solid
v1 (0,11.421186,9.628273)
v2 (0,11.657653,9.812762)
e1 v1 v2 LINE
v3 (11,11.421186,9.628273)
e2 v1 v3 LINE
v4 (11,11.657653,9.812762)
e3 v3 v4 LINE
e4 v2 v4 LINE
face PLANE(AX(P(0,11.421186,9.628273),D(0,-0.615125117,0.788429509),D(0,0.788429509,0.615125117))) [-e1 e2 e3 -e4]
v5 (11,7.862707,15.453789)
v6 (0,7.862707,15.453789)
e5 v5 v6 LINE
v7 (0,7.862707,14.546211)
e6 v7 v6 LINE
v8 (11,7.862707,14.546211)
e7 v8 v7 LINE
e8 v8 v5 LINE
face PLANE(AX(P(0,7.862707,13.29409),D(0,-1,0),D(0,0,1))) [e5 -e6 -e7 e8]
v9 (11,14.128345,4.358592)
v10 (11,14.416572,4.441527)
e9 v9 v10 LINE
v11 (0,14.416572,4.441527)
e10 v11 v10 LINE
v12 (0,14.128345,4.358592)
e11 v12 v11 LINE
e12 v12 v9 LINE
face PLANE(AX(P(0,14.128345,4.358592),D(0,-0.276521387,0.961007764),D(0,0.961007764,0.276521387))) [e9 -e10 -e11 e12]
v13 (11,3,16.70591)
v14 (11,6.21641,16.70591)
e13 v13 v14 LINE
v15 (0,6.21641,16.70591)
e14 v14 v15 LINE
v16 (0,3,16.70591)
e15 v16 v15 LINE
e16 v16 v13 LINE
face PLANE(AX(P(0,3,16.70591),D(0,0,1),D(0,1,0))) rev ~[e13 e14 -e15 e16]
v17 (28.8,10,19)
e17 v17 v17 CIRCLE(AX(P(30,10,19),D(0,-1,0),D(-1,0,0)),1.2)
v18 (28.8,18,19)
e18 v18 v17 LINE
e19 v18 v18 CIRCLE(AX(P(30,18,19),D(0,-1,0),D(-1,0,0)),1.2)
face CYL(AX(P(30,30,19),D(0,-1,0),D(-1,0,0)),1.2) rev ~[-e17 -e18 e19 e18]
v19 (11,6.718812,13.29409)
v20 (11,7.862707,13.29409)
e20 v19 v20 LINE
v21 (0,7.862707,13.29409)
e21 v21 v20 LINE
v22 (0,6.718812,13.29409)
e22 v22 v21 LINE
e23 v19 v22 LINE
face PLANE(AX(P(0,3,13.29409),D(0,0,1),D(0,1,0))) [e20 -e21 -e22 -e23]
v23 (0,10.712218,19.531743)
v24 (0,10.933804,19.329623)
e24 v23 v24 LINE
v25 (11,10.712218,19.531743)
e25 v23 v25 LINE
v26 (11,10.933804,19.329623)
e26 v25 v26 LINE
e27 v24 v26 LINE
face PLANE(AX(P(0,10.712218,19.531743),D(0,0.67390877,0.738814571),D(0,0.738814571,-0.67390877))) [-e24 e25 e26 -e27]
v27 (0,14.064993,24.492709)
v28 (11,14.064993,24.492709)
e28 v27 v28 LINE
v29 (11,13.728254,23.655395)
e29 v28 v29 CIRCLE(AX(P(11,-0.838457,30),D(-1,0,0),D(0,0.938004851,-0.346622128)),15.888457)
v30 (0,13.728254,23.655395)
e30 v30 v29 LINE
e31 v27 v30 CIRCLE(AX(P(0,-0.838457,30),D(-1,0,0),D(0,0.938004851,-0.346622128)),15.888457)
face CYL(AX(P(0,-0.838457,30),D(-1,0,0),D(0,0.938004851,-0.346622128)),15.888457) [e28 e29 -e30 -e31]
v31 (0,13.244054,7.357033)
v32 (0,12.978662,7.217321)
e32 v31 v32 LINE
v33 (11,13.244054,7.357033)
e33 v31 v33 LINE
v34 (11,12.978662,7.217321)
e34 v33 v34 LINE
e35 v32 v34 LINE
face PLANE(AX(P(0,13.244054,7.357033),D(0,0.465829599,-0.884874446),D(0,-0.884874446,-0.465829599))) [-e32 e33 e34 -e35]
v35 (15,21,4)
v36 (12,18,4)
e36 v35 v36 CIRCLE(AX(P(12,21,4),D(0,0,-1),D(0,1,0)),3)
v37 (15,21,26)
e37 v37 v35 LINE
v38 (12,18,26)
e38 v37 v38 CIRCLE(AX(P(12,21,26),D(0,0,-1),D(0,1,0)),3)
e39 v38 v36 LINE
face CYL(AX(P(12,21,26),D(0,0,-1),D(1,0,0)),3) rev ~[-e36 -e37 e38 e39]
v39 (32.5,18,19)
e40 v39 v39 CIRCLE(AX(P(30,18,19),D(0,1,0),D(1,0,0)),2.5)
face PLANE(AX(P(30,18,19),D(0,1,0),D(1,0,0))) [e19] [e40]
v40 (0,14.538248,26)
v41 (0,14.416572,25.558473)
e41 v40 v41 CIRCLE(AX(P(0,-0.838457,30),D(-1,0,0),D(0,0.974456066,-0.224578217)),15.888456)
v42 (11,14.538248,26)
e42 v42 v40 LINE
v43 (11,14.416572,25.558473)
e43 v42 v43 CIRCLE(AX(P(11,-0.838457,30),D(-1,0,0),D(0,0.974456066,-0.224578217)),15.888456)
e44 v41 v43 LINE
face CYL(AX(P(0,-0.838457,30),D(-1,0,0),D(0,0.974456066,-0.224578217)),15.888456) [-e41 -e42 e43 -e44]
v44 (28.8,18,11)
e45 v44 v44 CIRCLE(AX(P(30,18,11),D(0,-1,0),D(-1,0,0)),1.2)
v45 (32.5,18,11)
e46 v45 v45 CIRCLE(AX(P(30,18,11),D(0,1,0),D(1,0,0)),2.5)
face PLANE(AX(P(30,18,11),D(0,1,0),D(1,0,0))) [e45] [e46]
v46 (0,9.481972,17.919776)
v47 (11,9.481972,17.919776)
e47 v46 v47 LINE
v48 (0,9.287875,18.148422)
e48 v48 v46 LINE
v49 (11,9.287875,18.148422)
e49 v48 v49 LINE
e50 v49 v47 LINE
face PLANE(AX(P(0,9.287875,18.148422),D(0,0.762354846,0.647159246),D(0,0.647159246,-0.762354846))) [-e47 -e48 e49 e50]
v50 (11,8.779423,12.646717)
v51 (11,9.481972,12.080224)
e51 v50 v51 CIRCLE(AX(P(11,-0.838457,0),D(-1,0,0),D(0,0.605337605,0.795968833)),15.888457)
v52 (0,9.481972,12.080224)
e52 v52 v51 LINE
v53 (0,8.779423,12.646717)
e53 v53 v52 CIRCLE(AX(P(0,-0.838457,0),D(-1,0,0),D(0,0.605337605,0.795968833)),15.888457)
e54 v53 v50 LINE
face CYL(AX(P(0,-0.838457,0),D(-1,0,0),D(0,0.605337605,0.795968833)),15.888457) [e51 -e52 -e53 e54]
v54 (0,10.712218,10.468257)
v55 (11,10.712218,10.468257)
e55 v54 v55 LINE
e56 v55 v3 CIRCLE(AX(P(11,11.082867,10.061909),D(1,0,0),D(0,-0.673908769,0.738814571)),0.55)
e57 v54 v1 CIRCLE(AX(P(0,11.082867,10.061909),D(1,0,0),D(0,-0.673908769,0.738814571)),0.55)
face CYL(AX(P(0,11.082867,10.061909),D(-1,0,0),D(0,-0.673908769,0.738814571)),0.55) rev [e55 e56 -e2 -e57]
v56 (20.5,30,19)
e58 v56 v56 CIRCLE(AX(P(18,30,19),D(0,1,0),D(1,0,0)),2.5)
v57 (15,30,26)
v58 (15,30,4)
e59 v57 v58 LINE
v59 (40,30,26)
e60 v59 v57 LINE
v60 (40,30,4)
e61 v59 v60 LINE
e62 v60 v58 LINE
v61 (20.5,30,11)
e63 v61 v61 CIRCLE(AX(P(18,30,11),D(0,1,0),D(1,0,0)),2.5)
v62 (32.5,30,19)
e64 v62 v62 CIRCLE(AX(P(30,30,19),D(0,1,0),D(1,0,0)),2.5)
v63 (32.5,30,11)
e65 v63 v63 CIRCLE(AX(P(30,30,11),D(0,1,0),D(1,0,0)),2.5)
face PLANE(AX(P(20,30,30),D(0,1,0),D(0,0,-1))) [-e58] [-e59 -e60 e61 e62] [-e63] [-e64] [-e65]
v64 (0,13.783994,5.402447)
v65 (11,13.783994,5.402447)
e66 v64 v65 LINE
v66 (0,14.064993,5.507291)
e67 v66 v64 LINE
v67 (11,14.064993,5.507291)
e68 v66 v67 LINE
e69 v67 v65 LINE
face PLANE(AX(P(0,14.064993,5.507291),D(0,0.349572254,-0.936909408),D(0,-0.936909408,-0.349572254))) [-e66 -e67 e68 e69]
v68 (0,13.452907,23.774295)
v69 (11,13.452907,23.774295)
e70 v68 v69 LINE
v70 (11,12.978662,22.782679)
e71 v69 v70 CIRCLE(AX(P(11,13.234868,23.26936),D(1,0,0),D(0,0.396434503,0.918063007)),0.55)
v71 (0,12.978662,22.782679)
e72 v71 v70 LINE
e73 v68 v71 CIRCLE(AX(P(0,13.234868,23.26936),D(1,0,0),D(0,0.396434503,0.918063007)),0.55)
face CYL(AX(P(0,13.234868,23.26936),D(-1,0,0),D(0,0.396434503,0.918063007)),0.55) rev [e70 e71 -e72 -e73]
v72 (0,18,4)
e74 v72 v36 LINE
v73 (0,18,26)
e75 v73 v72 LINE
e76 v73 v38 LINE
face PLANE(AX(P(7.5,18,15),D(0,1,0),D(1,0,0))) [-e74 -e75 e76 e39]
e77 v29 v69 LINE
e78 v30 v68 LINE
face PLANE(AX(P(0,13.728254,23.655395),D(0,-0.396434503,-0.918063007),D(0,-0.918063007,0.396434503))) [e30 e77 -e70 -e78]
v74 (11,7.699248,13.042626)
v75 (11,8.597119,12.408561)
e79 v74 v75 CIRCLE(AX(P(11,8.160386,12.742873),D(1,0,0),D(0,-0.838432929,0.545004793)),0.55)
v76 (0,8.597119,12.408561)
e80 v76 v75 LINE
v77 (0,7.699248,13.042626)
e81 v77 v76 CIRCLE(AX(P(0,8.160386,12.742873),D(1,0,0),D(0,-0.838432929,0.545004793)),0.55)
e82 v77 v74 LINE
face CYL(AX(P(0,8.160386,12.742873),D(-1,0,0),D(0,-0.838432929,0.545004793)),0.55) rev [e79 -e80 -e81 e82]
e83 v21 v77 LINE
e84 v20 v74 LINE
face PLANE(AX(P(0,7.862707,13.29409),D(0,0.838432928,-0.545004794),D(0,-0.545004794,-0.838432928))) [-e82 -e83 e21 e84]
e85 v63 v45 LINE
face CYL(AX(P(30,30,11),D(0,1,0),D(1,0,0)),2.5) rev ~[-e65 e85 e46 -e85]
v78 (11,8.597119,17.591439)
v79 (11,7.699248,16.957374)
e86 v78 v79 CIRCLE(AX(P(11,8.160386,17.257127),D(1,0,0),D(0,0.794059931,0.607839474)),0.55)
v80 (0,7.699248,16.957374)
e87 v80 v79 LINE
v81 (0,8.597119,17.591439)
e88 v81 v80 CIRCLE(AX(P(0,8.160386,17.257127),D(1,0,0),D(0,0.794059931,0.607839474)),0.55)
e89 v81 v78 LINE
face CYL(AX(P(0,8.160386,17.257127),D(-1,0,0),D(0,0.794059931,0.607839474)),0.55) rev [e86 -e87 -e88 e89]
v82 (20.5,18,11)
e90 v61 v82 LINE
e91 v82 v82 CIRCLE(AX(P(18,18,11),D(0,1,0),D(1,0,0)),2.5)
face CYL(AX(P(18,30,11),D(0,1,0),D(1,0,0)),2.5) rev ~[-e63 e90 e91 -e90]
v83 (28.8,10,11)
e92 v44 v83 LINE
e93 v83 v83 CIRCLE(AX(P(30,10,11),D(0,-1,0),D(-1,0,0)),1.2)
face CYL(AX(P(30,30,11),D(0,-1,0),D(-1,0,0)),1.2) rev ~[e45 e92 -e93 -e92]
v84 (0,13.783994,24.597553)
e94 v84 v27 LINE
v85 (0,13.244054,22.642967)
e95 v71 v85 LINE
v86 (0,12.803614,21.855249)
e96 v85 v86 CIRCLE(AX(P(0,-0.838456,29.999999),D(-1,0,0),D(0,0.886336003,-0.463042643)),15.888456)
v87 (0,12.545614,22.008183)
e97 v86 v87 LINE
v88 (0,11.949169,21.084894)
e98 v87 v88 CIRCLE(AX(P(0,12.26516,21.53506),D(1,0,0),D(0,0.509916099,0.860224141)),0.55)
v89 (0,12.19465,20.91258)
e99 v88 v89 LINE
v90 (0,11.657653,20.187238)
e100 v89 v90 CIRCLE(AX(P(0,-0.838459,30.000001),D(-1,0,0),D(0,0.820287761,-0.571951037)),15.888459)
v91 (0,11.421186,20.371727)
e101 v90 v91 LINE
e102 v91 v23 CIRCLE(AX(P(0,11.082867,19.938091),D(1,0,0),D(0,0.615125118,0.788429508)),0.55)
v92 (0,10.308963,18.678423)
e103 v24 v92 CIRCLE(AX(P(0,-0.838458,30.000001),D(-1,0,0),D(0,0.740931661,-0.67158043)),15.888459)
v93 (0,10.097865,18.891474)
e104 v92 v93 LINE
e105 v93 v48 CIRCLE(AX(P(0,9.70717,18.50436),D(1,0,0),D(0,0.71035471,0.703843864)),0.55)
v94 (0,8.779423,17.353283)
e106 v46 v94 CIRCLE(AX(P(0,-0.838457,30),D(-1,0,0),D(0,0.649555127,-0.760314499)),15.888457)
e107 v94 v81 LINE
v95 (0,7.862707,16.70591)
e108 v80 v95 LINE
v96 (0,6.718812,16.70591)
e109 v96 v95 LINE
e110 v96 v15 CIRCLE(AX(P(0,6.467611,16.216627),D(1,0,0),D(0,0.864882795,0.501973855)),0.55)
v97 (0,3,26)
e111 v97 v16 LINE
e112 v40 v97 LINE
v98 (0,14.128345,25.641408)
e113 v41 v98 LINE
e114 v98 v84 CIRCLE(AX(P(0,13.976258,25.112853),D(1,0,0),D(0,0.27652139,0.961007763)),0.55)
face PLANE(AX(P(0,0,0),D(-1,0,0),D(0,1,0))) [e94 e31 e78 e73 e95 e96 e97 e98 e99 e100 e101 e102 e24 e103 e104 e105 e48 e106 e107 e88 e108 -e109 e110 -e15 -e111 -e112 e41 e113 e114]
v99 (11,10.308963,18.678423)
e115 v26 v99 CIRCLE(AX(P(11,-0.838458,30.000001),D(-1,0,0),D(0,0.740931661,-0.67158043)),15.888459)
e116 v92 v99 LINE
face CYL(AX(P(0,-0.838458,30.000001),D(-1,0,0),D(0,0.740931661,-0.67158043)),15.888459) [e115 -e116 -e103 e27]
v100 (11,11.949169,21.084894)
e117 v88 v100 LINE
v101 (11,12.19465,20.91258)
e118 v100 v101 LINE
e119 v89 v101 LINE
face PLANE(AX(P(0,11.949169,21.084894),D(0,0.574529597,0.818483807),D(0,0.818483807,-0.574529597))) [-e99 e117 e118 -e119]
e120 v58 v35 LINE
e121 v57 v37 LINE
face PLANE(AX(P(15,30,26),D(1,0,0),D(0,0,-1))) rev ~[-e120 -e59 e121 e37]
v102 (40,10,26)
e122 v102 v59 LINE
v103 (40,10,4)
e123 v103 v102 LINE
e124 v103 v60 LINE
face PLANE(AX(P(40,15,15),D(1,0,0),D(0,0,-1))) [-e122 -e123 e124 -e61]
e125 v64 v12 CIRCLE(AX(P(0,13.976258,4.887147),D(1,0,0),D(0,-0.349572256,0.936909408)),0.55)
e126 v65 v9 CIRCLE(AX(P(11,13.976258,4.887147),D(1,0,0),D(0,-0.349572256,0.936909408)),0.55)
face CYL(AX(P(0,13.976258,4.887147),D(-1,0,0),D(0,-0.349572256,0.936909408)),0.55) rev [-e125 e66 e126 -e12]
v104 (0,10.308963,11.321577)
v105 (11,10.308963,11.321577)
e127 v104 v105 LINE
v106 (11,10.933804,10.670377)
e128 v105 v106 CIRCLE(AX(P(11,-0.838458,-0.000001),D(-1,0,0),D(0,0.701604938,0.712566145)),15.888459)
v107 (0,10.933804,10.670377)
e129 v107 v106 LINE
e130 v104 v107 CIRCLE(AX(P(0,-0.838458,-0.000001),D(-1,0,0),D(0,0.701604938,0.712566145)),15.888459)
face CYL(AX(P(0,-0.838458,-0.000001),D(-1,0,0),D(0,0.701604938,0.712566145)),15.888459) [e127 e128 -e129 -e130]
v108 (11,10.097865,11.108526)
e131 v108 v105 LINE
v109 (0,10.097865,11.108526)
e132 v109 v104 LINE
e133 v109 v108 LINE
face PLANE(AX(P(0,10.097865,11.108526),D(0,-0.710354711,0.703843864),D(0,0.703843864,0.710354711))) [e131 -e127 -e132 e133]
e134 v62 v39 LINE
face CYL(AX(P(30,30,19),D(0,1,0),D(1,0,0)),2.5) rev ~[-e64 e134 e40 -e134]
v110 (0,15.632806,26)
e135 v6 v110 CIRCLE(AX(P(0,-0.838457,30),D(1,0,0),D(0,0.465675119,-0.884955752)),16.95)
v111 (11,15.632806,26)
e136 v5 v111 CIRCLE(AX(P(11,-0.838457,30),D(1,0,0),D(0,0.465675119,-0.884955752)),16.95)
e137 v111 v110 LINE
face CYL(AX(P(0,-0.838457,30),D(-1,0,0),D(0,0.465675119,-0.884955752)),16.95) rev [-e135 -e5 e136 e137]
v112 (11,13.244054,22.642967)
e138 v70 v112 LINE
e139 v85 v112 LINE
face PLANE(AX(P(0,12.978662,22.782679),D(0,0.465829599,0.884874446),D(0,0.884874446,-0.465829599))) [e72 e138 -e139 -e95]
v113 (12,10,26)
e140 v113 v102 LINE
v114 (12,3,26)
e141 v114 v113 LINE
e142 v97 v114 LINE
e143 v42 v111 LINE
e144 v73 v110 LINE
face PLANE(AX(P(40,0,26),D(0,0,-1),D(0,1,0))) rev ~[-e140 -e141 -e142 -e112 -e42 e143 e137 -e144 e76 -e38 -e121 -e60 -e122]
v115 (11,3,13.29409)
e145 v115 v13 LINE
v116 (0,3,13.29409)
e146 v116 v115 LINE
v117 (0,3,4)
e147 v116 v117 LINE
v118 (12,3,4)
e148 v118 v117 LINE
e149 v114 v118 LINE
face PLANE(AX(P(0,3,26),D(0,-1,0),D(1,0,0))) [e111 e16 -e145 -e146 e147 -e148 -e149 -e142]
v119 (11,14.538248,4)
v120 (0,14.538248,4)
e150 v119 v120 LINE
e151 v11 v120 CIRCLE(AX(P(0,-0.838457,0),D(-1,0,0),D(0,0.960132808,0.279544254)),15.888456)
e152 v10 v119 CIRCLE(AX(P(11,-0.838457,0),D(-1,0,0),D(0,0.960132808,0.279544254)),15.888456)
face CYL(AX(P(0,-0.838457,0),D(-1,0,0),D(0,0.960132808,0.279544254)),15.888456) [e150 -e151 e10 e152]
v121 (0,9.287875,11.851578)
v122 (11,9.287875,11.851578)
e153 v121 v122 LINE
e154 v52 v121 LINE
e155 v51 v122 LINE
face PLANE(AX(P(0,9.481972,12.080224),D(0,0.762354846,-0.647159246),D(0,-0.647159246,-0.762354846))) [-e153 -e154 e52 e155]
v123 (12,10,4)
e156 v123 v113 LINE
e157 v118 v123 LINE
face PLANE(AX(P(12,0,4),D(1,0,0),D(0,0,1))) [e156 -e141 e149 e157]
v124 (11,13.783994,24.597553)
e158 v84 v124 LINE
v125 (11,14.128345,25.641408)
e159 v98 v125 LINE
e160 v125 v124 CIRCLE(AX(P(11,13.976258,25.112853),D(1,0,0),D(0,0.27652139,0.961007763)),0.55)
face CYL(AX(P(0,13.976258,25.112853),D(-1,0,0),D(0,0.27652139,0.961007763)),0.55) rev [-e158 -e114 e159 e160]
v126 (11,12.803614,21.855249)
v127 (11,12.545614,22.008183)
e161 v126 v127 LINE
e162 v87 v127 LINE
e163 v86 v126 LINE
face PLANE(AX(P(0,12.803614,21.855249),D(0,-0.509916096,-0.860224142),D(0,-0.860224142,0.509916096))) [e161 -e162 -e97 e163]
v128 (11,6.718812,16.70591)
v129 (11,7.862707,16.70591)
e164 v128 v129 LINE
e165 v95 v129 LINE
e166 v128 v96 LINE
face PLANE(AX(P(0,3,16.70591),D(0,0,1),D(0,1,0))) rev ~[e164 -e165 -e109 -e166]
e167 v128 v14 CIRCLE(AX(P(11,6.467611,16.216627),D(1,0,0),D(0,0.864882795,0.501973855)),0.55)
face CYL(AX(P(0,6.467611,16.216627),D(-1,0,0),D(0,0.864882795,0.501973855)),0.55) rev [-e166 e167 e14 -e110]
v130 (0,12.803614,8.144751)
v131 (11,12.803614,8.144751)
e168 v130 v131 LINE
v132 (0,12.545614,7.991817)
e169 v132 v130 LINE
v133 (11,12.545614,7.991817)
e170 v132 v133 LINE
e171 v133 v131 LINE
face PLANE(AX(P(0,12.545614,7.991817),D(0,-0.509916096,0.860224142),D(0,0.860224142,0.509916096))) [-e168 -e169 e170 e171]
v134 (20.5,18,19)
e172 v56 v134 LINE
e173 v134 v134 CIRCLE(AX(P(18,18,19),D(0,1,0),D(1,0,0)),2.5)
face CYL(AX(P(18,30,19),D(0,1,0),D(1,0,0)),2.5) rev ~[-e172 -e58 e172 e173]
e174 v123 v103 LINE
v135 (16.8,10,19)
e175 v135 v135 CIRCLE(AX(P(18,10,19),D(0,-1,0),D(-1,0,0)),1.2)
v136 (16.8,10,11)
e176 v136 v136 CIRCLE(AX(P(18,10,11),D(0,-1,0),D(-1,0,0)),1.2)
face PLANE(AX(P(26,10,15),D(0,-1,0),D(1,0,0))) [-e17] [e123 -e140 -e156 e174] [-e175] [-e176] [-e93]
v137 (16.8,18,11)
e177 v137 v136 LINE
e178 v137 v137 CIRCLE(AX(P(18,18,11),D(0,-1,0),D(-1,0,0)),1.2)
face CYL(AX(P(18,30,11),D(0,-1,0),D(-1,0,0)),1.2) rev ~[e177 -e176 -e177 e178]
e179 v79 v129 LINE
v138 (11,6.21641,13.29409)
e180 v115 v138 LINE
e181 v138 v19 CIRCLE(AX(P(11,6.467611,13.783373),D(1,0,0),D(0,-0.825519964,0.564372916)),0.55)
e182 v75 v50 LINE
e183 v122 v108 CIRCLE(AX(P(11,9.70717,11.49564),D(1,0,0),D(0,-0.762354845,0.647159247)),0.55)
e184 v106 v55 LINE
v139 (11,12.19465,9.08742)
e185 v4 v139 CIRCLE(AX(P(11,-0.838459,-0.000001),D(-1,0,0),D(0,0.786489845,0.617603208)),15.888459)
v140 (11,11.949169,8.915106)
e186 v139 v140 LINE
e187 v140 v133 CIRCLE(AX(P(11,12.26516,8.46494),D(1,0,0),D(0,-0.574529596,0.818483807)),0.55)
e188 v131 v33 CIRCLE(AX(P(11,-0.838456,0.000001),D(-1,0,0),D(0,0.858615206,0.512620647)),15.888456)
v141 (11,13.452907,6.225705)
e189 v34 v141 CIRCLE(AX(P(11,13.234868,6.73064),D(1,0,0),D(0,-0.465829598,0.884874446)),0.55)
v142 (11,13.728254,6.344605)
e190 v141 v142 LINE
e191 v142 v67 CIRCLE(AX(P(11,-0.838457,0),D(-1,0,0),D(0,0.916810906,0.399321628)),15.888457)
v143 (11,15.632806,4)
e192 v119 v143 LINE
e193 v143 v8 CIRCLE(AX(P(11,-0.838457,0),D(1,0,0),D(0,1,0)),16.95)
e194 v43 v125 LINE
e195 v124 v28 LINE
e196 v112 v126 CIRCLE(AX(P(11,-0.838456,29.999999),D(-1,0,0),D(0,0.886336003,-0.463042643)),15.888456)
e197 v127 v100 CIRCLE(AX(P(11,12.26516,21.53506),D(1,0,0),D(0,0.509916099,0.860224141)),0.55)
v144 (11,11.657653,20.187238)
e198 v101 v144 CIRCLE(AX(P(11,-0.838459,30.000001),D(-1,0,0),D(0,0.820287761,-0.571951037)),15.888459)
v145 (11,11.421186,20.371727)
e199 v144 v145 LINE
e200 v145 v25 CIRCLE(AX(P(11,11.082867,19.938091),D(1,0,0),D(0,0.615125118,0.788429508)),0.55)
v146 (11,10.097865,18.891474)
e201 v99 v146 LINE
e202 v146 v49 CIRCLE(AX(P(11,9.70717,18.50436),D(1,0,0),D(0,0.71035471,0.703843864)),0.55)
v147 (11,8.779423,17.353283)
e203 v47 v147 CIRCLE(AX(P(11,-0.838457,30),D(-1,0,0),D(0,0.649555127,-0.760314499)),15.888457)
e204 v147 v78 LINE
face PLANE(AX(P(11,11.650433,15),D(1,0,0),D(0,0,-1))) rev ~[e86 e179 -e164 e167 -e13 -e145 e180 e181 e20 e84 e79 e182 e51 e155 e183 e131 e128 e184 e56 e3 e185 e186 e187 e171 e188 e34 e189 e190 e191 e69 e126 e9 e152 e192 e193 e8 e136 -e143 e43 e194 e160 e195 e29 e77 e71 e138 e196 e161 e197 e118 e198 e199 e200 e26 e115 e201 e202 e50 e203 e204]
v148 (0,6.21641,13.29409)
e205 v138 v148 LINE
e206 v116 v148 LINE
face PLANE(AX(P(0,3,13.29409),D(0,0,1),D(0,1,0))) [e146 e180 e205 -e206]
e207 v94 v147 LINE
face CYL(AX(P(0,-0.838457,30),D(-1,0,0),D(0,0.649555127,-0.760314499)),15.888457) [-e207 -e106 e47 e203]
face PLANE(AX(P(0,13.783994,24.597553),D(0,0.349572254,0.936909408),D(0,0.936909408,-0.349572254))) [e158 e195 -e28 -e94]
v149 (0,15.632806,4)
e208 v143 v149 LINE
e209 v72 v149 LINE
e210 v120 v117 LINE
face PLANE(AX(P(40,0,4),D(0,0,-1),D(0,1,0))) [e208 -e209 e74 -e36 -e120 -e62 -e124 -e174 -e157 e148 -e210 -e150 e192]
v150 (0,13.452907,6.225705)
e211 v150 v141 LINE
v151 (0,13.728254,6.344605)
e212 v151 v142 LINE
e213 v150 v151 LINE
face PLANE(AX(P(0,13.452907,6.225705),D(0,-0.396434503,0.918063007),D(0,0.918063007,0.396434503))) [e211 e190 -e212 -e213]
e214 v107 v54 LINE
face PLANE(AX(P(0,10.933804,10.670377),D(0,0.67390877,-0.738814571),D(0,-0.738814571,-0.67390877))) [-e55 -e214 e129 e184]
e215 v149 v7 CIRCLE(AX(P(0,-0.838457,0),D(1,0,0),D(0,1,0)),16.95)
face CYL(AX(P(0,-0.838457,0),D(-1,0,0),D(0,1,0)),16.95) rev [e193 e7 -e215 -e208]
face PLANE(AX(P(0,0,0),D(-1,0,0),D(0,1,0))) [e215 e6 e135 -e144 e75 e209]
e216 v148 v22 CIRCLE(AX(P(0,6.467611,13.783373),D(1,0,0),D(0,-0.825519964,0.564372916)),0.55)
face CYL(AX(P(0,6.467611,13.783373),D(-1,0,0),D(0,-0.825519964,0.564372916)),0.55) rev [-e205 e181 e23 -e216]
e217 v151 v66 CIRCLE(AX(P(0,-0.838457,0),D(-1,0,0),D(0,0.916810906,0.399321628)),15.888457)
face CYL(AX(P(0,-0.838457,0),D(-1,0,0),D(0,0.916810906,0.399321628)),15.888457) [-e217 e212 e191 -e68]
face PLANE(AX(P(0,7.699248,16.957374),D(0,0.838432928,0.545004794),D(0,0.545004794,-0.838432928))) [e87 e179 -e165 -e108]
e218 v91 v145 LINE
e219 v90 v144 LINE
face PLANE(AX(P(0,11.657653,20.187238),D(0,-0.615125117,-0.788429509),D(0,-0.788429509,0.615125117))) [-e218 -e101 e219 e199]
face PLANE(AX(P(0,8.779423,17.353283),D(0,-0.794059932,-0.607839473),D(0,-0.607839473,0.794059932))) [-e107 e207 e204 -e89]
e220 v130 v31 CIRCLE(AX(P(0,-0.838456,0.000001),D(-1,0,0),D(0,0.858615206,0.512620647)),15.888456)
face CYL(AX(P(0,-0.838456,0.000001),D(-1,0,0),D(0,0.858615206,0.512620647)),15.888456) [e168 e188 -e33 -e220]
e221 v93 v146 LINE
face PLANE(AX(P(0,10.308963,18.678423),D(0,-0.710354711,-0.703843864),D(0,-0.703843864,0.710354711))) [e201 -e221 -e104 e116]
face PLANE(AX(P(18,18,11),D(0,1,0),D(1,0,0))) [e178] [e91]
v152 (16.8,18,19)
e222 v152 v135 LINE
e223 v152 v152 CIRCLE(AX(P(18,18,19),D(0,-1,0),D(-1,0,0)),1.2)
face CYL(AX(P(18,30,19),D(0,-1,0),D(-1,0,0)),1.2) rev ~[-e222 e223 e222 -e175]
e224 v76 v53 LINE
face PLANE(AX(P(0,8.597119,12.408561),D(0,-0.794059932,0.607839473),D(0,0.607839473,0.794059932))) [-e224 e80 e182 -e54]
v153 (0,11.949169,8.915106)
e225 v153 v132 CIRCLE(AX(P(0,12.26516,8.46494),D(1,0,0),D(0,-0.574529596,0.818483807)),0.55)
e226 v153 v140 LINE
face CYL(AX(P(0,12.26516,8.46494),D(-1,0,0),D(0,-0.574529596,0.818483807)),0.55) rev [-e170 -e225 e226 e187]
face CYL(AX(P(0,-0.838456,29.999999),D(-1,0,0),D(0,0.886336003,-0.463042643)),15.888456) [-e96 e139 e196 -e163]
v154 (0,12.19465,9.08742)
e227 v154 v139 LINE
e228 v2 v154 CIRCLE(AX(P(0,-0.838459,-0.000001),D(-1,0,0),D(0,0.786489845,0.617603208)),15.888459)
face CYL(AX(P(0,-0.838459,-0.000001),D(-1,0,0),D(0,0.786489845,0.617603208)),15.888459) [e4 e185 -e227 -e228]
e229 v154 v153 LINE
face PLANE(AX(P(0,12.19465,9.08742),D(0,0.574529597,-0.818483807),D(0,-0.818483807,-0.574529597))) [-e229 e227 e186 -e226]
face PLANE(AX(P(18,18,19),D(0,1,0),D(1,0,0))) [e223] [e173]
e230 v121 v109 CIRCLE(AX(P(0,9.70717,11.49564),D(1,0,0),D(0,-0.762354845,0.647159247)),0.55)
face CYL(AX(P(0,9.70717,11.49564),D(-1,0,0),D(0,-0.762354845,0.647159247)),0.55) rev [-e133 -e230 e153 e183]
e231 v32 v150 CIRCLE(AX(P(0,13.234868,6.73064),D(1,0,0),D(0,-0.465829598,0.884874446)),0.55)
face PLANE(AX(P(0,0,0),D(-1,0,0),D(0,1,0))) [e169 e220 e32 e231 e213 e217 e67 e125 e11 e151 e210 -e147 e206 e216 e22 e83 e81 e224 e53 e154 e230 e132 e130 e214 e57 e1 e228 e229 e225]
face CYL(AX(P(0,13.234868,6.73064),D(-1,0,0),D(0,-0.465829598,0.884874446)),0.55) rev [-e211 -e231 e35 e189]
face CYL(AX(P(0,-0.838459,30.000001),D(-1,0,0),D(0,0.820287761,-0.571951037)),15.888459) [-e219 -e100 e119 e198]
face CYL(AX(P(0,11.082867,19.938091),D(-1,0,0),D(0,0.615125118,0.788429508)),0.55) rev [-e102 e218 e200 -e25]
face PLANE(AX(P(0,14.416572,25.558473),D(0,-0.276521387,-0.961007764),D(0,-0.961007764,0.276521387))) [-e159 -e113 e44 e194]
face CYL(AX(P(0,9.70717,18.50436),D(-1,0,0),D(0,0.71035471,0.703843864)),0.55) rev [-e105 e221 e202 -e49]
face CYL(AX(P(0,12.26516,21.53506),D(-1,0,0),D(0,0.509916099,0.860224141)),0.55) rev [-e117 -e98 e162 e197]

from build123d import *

# Parameters (mm, degrees)
SKETCH_1_W                   = 20
SKETCH_1_H                   = 40
EXTRUDE_1_DEPTH              = 30
CUT_EXTRUDE_1_DEPTH          = 11
SKETCH_13_W                  = 20
SKETCH_13_H                  = 30
CUT_EXTRUDE_5_DEPTH          = 10
SKETCH_14_W                  = 30
SKETCH_14_H                  = 30
EXTRUDE_5_DEPTH              = 20
HOLE_WIZARD_M2_1_D           = 2.4
HOLE_WIZARD_M2_1_CSINK_D     = 2.45
HOLE_WIZARD_M2_1_CSINK_ANGLE = 90
SKETCH_19_R                  = 2.5
CUT_EXTRUDE_6_DEPTH          = 12
SKETCH_20_W                  = 4
SKETCH_20_H                  = 30
CUT_EXTRUDE_7_DEPTH          = 49
SKETCH_22_W                  = 28
SKETCH_22_H                  = 22
CUT_EXTRUDE_8_DEPTH          = 10
SKETCH_23_W                  = 12
SKETCH_23_H                  = 3
CUT_EXTRUDE_9_DEPTH          = 23
SKETCH_24_W                  = 3.41182091
SKETCH_24_H                  = 4.86270688
CUT_EXTRUDE_10_DEPTH         = 11
SKETCH_25_W                  = 15
SKETCH_25_H                  = 22
CUT_EXTRUDE_11_DEPTH         = 12
FILLET_1_R                   = 3


with BuildPart() as part:
    # 草图1 → 凸台-拉伸1 (new body)
    with BuildSketch(Plane.XY):
        with Locations((10, 20)):
            Rectangle(SKETCH_1_W, SKETCH_1_H)
    extrude(amount=EXTRUDE_1_DEPTH)

    # 草图3 → 切除-拉伸1 (cut)
    with BuildSketch(Plane.ZY):
        with BuildLine():
            Line((2.42076783, 14.560970744), (2.46639251, 14.857401496))
            ThreePointArc((2.46639251, 14.857401496), (2.019622743, 14.921117547), (1.571223609, 14.972119278))
            Line((1.571223609, 14.972119278), (1.540625063, 14.673762896))
            ThreePointArc((1.540625063, 14.673762896), (0.958467816, 14.180991438), (0.443670306, 14.743765188))
            Line((0.443670306, 14.743765188), (0.451244703, 15.043586442))
            ThreePointArc((0.451244703, 15.043586442), (0.225645108, 15.048393221), (0, 15.049995588))
            Line((0, 15.049995588), (0, 16.111542732))
            ThreePointArc((0, 16.111542732), (8.761075107, 13.671748208), (15, 7.054736002))
            ThreePointArc((15, 7.054736002), (21.238924893, 13.671748208), (30, 16.111542732))
            Line((30, 16.111542732), (30, 15.049995588))
            ThreePointArc((30, 15.049995588), (29.774354892, 15.048393221), (29.548755297, 15.043586442))
            Line((29.548755297, 15.043586442), (29.556329694, 14.743765188))
            ThreePointArc((29.556329694, 14.743765188), (29.041532184, 14.180991438), (28.459374937, 14.673762896))
            Line((28.459374937, 14.673762896), (28.428776391, 14.972119278))
            ThreePointArc((28.428776391, 14.972119278), (27.980377257, 14.921117547), (27.53360749, 14.857401496))
            Line((27.53360749, 14.857401496), (27.57923217, 14.560970744))
            ThreePointArc((27.57923217, 14.560970744), (27.140146166, 13.937324811), (26.500073756, 14.352099545))
            Line((26.500073756, 14.352099545), (26.431798568, 14.644146289))
            ThreePointArc((26.431798568, 14.644146289), (25.993519676, 14.536561099), (25.558473085, 14.416571838))
            Line((25.558473085, 14.416571838), (25.641407746, 14.128345115))
            ThreePointArc((25.641407746, 14.128345115), (25.285156719, 13.453944659), (24.597553302, 13.78399361))
            Line((24.597553302, 13.78399361), (24.492709128, 14.064992722))
            ThreePointArc((24.492709128, 14.064992722), (24.071660856, 13.902569472), (23.655395377, 13.728253635))
            Line((23.655395377, 13.728253635), (23.774294539, 13.45290696))
            ThreePointArc((23.774294539, 13.45290696), (23.506658094, 12.738693055), (22.78267894, 12.978661705))
            Line((22.78267894, 12.978661705), (22.642966709, 13.244054422))
            ThreePointArc((22.642966709, 13.244054422), (22.245979893, 13.029428171), (21.855248772, 12.803613755))
            Line((21.855248772, 12.803613755), (22.008183484, 12.545614189))
            ThreePointArc((22.008183484, 12.545614189), (21.833503597, 11.803173817), (21.084894113, 11.949169057))
            Line((21.084894113, 11.949169057), (20.912580434, 12.194649806))
            ThreePointArc((20.912580434, 12.194649806), (20.546095554, 11.931302521), (20.187237779, 11.657653005))
            Line((20.187237779, 11.657653005), (20.37172692, 11.421186181))
            ThreePointArc((20.37172692, 11.421186181), (20.292837493, 10.662564255), (19.531742677, 10.712217544))
            Line((19.531742677, 10.712217544), (19.329623065, 10.93380379))
            ThreePointArc((19.329623065, 10.93380379), (18.999585753, 10.626007863), (18.678423221, 10.308962775))
            Line((18.678423221, 10.308962775), (18.891473749, 10.097864989))
            ThreePointArc((18.891473749, 10.097864989), (18.909654637, 9.335368941), (18.148422038, 9.287874734))
            Line((18.148422038, 9.287874734), (17.919775562, 9.481971593))
            ThreePointArc((17.919775562, 9.481971593), (17.631540148, 9.134720523), (17.35328321, 8.779423413))
            Line((17.35328321, 8.779423413), (17.591438718, 8.597119392))
            ThreePointArc((17.591438718, 8.597119392), (17.706394965, 7.843119504), (16.957374371, 7.699248319))
            Line((16.957374371, 7.699248319), (16.705910455, 7.86270688))
            ThreePointArc((16.705910455, 7.86270688), (16.4641531, 7.481634261), (16.233316031, 7.093849259))
            Line((16.233316031, 7.093849259), (16.492712825, 6.943296595))
            ThreePointArc((16.492712825, 6.943296595), (16.68180457, 6.174165972), (15.906222101, 6.013575078))
            Line((15.906222101, 6.013575078), (15.906222101, 3.404183419))
            Line((15.906222101, 3.404183419), (14.093777899, 3.404183419))
            Line((14.093777899, 3.404183419), (14.093777899, 6.013575078))
            ThreePointArc((14.093777899, 6.013575078), (13.31819543, 6.174165972), (13.507287175, 6.943296595))
            Line((13.507287175, 6.943296595), (13.766683969, 7.093849259))
            ThreePointArc((13.766683969, 7.093849259), (13.5358469, 7.481634261), (13.294089545, 7.86270688))
            Line((13.294089545, 7.86270688), (13.042625629, 7.699248319))
            ThreePointArc((13.042625629, 7.699248319), (12.293605035, 7.843119504), (12.408561282, 8.597119392))
            Line((12.408561282, 8.597119392), (12.64671679, 8.779423413))
            ThreePointArc((12.64671679, 8.779423413), (12.368459852, 9.134720523), (12.080224438, 9.481971593))
            Line((12.080224438, 9.481971593), (11.851577962, 9.287874734))
            ThreePointArc((11.851577962, 9.287874734), (11.090345363, 9.335368941), (11.108526251, 10.097864989))
            Line((11.108526251, 10.097864989), (11.321576779, 10.308962775))
            ThreePointArc((11.321576779, 10.308962775), (11.000414247, 10.626007863), (10.670376935, 10.93380379))
            Line((10.670376935, 10.93380379), (10.468257323, 10.712217544))
            ThreePointArc((10.468257323, 10.712217544), (9.707162507, 10.662564255), (9.62827308, 11.421186181))
            Line((9.62827308, 11.421186181), (9.812762221, 11.657653005))
            ThreePointArc((9.812762221, 11.657653005), (9.453904446, 11.931302521), (9.087419566, 12.194649806))
            Line((9.087419566, 12.194649806), (8.915105887, 11.949169057))
            ThreePointArc((8.915105887, 11.949169057), (8.166496403, 11.803173817), (7.991816516, 12.545614189))
            Line((7.991816516, 12.545614189), (8.144751228, 12.803613755))
            ThreePointArc((8.144751228, 12.803613755), (7.754020107, 13.029428171), (7.357033291, 13.244054422))
            Line((7.357033291, 13.244054422), (7.21732106, 12.978661705))
            ThreePointArc((7.21732106, 12.978661705), (6.493341906, 12.738693055), (6.225705461, 13.45290696))
            Line((6.225705461, 13.45290696), (6.344604623, 13.728253635))
            ThreePointArc((6.344604623, 13.728253635), (5.928339144, 13.902569472), (5.507290872, 14.064992722))
            Line((5.507290872, 14.064992722), (5.402446698, 13.78399361))
            ThreePointArc((5.402446698, 13.78399361), (4.714843281, 13.453944659), (4.358592254, 14.128345115))
            Line((4.358592254, 14.128345115), (4.441526915, 14.416571838))
            ThreePointArc((4.441526915, 14.416571838), (4.006480324, 14.536561099), (3.568201432, 14.644146289))
            Line((3.568201432, 14.644146289), (3.499926244, 14.352099545))
            ThreePointArc((3.499926244, 14.352099545), (2.859853834, 13.937324811), (2.42076783, 14.560970744))
        make_face()
    extrude(amount=-CUT_EXTRUDE_1_DEPTH, mode=Mode.SUBTRACT)

    # 草图13 → 切除-拉伸5 (cut)
    with BuildSketch(Plane(origin=(0, 40, 0), x_dir=(1, 0, 0), z_dir=(0, 1, 0))):
        with Locations((10, -15)):
            Rectangle(SKETCH_13_W, SKETCH_13_H)
    extrude(amount=-CUT_EXTRUDE_5_DEPTH, mode=Mode.SUBTRACT)

    # 草图14 → 凸台-拉伸5 (add)
    with BuildSketch(Plane(origin=(20, 0, 0), x_dir=(0, 0, -1), z_dir=(1, 0, 0))):
        with Locations((-15, 15)):
            Rectangle(SKETCH_14_W, SKETCH_14_H)
    extrude(amount=EXTRUDE_5_DEPTH)

    # M2 间隙孔1 (through all)
    with Locations(Plane(origin=(0, 30, 0), x_dir=(1, 0, 0), z_dir=(0, 1, 0))):
        with Locations((18, -11), (30, -11), (18, -19), (30, -19)):
            CounterSinkHole(HOLE_WIZARD_M2_1_D / 2, HOLE_WIZARD_M2_1_CSINK_D / 2, counter_sink_angle=HOLE_WIZARD_M2_1_CSINK_ANGLE)

    # 草图19 → 切除-拉伸6 (cut)
    with BuildSketch(Plane(origin=(0, 30, 0), x_dir=(1, 0, 0), z_dir=(0, 1, 0))):
        with Locations((18, -11)):
            Circle(SKETCH_19_R)
        with Locations((30, -11)):
            Circle(SKETCH_19_R)
        with Locations((30, -19)):
            Circle(SKETCH_19_R)
        with Locations((18, -19)):
            Circle(SKETCH_19_R)
    extrude(amount=-CUT_EXTRUDE_6_DEPTH, mode=Mode.SUBTRACT)

    # 草图20 → 切除-拉伸7 (cut)
    with BuildSketch(Plane(origin=(40, 0, 0), x_dir=(0, 0, -1), z_dir=(1, 0, 0))):
        with Locations((-28, 15)):
            Rectangle(SKETCH_20_W, SKETCH_20_H)
        with Locations((-2, 15)):
            Rectangle(SKETCH_20_W, SKETCH_20_H)
    extrude(amount=-CUT_EXTRUDE_7_DEPTH, mode=Mode.SUBTRACT)

    # 草图22 → 切除-拉伸8 (cut)
    with BuildSketch(Plane.XZ):
        with Locations((26, 15)):
            Rectangle(SKETCH_22_W, SKETCH_22_H)
    extrude(amount=-CUT_EXTRUDE_8_DEPTH, mode=Mode.SUBTRACT)

    # 草图23 → 切除-拉伸9 (cut, through all)
    with BuildSketch(Plane.XY.offset(26)):
        with Locations((6, 1.5)):
            Rectangle(SKETCH_23_W, SKETCH_23_H)
    extrude(amount=-CUT_EXTRUDE_9_DEPTH, mode=Mode.SUBTRACT)

    # 草图24 → 切除-拉伸10 (cut)
    with BuildSketch(Plane.ZY):
        with Locations((15, 5.43135344)):
            Rectangle(SKETCH_24_W, SKETCH_24_H)
    extrude(amount=-CUT_EXTRUDE_10_DEPTH, mode=Mode.SUBTRACT)

    # 草图25 → 切除-拉伸11 (cut)
    with BuildSketch(Plane(origin=(0, 30, 0), x_dir=(1, 0, 0), z_dir=(0, 1, 0))):
        with Locations((7.5, -15)):
            Rectangle(SKETCH_25_W, SKETCH_25_H)
    extrude(amount=-CUT_EXTRUDE_11_DEPTH, mode=Mode.SUBTRACT)

    # 圆角1
    fillet_1_edges = [part.edges().sort_by_distance(p)[0] for p in [
        (15, 18, 15),
    ]]
    fillet(fillet_1_edges, radius=FILLET_1_R)


solid = part.part
